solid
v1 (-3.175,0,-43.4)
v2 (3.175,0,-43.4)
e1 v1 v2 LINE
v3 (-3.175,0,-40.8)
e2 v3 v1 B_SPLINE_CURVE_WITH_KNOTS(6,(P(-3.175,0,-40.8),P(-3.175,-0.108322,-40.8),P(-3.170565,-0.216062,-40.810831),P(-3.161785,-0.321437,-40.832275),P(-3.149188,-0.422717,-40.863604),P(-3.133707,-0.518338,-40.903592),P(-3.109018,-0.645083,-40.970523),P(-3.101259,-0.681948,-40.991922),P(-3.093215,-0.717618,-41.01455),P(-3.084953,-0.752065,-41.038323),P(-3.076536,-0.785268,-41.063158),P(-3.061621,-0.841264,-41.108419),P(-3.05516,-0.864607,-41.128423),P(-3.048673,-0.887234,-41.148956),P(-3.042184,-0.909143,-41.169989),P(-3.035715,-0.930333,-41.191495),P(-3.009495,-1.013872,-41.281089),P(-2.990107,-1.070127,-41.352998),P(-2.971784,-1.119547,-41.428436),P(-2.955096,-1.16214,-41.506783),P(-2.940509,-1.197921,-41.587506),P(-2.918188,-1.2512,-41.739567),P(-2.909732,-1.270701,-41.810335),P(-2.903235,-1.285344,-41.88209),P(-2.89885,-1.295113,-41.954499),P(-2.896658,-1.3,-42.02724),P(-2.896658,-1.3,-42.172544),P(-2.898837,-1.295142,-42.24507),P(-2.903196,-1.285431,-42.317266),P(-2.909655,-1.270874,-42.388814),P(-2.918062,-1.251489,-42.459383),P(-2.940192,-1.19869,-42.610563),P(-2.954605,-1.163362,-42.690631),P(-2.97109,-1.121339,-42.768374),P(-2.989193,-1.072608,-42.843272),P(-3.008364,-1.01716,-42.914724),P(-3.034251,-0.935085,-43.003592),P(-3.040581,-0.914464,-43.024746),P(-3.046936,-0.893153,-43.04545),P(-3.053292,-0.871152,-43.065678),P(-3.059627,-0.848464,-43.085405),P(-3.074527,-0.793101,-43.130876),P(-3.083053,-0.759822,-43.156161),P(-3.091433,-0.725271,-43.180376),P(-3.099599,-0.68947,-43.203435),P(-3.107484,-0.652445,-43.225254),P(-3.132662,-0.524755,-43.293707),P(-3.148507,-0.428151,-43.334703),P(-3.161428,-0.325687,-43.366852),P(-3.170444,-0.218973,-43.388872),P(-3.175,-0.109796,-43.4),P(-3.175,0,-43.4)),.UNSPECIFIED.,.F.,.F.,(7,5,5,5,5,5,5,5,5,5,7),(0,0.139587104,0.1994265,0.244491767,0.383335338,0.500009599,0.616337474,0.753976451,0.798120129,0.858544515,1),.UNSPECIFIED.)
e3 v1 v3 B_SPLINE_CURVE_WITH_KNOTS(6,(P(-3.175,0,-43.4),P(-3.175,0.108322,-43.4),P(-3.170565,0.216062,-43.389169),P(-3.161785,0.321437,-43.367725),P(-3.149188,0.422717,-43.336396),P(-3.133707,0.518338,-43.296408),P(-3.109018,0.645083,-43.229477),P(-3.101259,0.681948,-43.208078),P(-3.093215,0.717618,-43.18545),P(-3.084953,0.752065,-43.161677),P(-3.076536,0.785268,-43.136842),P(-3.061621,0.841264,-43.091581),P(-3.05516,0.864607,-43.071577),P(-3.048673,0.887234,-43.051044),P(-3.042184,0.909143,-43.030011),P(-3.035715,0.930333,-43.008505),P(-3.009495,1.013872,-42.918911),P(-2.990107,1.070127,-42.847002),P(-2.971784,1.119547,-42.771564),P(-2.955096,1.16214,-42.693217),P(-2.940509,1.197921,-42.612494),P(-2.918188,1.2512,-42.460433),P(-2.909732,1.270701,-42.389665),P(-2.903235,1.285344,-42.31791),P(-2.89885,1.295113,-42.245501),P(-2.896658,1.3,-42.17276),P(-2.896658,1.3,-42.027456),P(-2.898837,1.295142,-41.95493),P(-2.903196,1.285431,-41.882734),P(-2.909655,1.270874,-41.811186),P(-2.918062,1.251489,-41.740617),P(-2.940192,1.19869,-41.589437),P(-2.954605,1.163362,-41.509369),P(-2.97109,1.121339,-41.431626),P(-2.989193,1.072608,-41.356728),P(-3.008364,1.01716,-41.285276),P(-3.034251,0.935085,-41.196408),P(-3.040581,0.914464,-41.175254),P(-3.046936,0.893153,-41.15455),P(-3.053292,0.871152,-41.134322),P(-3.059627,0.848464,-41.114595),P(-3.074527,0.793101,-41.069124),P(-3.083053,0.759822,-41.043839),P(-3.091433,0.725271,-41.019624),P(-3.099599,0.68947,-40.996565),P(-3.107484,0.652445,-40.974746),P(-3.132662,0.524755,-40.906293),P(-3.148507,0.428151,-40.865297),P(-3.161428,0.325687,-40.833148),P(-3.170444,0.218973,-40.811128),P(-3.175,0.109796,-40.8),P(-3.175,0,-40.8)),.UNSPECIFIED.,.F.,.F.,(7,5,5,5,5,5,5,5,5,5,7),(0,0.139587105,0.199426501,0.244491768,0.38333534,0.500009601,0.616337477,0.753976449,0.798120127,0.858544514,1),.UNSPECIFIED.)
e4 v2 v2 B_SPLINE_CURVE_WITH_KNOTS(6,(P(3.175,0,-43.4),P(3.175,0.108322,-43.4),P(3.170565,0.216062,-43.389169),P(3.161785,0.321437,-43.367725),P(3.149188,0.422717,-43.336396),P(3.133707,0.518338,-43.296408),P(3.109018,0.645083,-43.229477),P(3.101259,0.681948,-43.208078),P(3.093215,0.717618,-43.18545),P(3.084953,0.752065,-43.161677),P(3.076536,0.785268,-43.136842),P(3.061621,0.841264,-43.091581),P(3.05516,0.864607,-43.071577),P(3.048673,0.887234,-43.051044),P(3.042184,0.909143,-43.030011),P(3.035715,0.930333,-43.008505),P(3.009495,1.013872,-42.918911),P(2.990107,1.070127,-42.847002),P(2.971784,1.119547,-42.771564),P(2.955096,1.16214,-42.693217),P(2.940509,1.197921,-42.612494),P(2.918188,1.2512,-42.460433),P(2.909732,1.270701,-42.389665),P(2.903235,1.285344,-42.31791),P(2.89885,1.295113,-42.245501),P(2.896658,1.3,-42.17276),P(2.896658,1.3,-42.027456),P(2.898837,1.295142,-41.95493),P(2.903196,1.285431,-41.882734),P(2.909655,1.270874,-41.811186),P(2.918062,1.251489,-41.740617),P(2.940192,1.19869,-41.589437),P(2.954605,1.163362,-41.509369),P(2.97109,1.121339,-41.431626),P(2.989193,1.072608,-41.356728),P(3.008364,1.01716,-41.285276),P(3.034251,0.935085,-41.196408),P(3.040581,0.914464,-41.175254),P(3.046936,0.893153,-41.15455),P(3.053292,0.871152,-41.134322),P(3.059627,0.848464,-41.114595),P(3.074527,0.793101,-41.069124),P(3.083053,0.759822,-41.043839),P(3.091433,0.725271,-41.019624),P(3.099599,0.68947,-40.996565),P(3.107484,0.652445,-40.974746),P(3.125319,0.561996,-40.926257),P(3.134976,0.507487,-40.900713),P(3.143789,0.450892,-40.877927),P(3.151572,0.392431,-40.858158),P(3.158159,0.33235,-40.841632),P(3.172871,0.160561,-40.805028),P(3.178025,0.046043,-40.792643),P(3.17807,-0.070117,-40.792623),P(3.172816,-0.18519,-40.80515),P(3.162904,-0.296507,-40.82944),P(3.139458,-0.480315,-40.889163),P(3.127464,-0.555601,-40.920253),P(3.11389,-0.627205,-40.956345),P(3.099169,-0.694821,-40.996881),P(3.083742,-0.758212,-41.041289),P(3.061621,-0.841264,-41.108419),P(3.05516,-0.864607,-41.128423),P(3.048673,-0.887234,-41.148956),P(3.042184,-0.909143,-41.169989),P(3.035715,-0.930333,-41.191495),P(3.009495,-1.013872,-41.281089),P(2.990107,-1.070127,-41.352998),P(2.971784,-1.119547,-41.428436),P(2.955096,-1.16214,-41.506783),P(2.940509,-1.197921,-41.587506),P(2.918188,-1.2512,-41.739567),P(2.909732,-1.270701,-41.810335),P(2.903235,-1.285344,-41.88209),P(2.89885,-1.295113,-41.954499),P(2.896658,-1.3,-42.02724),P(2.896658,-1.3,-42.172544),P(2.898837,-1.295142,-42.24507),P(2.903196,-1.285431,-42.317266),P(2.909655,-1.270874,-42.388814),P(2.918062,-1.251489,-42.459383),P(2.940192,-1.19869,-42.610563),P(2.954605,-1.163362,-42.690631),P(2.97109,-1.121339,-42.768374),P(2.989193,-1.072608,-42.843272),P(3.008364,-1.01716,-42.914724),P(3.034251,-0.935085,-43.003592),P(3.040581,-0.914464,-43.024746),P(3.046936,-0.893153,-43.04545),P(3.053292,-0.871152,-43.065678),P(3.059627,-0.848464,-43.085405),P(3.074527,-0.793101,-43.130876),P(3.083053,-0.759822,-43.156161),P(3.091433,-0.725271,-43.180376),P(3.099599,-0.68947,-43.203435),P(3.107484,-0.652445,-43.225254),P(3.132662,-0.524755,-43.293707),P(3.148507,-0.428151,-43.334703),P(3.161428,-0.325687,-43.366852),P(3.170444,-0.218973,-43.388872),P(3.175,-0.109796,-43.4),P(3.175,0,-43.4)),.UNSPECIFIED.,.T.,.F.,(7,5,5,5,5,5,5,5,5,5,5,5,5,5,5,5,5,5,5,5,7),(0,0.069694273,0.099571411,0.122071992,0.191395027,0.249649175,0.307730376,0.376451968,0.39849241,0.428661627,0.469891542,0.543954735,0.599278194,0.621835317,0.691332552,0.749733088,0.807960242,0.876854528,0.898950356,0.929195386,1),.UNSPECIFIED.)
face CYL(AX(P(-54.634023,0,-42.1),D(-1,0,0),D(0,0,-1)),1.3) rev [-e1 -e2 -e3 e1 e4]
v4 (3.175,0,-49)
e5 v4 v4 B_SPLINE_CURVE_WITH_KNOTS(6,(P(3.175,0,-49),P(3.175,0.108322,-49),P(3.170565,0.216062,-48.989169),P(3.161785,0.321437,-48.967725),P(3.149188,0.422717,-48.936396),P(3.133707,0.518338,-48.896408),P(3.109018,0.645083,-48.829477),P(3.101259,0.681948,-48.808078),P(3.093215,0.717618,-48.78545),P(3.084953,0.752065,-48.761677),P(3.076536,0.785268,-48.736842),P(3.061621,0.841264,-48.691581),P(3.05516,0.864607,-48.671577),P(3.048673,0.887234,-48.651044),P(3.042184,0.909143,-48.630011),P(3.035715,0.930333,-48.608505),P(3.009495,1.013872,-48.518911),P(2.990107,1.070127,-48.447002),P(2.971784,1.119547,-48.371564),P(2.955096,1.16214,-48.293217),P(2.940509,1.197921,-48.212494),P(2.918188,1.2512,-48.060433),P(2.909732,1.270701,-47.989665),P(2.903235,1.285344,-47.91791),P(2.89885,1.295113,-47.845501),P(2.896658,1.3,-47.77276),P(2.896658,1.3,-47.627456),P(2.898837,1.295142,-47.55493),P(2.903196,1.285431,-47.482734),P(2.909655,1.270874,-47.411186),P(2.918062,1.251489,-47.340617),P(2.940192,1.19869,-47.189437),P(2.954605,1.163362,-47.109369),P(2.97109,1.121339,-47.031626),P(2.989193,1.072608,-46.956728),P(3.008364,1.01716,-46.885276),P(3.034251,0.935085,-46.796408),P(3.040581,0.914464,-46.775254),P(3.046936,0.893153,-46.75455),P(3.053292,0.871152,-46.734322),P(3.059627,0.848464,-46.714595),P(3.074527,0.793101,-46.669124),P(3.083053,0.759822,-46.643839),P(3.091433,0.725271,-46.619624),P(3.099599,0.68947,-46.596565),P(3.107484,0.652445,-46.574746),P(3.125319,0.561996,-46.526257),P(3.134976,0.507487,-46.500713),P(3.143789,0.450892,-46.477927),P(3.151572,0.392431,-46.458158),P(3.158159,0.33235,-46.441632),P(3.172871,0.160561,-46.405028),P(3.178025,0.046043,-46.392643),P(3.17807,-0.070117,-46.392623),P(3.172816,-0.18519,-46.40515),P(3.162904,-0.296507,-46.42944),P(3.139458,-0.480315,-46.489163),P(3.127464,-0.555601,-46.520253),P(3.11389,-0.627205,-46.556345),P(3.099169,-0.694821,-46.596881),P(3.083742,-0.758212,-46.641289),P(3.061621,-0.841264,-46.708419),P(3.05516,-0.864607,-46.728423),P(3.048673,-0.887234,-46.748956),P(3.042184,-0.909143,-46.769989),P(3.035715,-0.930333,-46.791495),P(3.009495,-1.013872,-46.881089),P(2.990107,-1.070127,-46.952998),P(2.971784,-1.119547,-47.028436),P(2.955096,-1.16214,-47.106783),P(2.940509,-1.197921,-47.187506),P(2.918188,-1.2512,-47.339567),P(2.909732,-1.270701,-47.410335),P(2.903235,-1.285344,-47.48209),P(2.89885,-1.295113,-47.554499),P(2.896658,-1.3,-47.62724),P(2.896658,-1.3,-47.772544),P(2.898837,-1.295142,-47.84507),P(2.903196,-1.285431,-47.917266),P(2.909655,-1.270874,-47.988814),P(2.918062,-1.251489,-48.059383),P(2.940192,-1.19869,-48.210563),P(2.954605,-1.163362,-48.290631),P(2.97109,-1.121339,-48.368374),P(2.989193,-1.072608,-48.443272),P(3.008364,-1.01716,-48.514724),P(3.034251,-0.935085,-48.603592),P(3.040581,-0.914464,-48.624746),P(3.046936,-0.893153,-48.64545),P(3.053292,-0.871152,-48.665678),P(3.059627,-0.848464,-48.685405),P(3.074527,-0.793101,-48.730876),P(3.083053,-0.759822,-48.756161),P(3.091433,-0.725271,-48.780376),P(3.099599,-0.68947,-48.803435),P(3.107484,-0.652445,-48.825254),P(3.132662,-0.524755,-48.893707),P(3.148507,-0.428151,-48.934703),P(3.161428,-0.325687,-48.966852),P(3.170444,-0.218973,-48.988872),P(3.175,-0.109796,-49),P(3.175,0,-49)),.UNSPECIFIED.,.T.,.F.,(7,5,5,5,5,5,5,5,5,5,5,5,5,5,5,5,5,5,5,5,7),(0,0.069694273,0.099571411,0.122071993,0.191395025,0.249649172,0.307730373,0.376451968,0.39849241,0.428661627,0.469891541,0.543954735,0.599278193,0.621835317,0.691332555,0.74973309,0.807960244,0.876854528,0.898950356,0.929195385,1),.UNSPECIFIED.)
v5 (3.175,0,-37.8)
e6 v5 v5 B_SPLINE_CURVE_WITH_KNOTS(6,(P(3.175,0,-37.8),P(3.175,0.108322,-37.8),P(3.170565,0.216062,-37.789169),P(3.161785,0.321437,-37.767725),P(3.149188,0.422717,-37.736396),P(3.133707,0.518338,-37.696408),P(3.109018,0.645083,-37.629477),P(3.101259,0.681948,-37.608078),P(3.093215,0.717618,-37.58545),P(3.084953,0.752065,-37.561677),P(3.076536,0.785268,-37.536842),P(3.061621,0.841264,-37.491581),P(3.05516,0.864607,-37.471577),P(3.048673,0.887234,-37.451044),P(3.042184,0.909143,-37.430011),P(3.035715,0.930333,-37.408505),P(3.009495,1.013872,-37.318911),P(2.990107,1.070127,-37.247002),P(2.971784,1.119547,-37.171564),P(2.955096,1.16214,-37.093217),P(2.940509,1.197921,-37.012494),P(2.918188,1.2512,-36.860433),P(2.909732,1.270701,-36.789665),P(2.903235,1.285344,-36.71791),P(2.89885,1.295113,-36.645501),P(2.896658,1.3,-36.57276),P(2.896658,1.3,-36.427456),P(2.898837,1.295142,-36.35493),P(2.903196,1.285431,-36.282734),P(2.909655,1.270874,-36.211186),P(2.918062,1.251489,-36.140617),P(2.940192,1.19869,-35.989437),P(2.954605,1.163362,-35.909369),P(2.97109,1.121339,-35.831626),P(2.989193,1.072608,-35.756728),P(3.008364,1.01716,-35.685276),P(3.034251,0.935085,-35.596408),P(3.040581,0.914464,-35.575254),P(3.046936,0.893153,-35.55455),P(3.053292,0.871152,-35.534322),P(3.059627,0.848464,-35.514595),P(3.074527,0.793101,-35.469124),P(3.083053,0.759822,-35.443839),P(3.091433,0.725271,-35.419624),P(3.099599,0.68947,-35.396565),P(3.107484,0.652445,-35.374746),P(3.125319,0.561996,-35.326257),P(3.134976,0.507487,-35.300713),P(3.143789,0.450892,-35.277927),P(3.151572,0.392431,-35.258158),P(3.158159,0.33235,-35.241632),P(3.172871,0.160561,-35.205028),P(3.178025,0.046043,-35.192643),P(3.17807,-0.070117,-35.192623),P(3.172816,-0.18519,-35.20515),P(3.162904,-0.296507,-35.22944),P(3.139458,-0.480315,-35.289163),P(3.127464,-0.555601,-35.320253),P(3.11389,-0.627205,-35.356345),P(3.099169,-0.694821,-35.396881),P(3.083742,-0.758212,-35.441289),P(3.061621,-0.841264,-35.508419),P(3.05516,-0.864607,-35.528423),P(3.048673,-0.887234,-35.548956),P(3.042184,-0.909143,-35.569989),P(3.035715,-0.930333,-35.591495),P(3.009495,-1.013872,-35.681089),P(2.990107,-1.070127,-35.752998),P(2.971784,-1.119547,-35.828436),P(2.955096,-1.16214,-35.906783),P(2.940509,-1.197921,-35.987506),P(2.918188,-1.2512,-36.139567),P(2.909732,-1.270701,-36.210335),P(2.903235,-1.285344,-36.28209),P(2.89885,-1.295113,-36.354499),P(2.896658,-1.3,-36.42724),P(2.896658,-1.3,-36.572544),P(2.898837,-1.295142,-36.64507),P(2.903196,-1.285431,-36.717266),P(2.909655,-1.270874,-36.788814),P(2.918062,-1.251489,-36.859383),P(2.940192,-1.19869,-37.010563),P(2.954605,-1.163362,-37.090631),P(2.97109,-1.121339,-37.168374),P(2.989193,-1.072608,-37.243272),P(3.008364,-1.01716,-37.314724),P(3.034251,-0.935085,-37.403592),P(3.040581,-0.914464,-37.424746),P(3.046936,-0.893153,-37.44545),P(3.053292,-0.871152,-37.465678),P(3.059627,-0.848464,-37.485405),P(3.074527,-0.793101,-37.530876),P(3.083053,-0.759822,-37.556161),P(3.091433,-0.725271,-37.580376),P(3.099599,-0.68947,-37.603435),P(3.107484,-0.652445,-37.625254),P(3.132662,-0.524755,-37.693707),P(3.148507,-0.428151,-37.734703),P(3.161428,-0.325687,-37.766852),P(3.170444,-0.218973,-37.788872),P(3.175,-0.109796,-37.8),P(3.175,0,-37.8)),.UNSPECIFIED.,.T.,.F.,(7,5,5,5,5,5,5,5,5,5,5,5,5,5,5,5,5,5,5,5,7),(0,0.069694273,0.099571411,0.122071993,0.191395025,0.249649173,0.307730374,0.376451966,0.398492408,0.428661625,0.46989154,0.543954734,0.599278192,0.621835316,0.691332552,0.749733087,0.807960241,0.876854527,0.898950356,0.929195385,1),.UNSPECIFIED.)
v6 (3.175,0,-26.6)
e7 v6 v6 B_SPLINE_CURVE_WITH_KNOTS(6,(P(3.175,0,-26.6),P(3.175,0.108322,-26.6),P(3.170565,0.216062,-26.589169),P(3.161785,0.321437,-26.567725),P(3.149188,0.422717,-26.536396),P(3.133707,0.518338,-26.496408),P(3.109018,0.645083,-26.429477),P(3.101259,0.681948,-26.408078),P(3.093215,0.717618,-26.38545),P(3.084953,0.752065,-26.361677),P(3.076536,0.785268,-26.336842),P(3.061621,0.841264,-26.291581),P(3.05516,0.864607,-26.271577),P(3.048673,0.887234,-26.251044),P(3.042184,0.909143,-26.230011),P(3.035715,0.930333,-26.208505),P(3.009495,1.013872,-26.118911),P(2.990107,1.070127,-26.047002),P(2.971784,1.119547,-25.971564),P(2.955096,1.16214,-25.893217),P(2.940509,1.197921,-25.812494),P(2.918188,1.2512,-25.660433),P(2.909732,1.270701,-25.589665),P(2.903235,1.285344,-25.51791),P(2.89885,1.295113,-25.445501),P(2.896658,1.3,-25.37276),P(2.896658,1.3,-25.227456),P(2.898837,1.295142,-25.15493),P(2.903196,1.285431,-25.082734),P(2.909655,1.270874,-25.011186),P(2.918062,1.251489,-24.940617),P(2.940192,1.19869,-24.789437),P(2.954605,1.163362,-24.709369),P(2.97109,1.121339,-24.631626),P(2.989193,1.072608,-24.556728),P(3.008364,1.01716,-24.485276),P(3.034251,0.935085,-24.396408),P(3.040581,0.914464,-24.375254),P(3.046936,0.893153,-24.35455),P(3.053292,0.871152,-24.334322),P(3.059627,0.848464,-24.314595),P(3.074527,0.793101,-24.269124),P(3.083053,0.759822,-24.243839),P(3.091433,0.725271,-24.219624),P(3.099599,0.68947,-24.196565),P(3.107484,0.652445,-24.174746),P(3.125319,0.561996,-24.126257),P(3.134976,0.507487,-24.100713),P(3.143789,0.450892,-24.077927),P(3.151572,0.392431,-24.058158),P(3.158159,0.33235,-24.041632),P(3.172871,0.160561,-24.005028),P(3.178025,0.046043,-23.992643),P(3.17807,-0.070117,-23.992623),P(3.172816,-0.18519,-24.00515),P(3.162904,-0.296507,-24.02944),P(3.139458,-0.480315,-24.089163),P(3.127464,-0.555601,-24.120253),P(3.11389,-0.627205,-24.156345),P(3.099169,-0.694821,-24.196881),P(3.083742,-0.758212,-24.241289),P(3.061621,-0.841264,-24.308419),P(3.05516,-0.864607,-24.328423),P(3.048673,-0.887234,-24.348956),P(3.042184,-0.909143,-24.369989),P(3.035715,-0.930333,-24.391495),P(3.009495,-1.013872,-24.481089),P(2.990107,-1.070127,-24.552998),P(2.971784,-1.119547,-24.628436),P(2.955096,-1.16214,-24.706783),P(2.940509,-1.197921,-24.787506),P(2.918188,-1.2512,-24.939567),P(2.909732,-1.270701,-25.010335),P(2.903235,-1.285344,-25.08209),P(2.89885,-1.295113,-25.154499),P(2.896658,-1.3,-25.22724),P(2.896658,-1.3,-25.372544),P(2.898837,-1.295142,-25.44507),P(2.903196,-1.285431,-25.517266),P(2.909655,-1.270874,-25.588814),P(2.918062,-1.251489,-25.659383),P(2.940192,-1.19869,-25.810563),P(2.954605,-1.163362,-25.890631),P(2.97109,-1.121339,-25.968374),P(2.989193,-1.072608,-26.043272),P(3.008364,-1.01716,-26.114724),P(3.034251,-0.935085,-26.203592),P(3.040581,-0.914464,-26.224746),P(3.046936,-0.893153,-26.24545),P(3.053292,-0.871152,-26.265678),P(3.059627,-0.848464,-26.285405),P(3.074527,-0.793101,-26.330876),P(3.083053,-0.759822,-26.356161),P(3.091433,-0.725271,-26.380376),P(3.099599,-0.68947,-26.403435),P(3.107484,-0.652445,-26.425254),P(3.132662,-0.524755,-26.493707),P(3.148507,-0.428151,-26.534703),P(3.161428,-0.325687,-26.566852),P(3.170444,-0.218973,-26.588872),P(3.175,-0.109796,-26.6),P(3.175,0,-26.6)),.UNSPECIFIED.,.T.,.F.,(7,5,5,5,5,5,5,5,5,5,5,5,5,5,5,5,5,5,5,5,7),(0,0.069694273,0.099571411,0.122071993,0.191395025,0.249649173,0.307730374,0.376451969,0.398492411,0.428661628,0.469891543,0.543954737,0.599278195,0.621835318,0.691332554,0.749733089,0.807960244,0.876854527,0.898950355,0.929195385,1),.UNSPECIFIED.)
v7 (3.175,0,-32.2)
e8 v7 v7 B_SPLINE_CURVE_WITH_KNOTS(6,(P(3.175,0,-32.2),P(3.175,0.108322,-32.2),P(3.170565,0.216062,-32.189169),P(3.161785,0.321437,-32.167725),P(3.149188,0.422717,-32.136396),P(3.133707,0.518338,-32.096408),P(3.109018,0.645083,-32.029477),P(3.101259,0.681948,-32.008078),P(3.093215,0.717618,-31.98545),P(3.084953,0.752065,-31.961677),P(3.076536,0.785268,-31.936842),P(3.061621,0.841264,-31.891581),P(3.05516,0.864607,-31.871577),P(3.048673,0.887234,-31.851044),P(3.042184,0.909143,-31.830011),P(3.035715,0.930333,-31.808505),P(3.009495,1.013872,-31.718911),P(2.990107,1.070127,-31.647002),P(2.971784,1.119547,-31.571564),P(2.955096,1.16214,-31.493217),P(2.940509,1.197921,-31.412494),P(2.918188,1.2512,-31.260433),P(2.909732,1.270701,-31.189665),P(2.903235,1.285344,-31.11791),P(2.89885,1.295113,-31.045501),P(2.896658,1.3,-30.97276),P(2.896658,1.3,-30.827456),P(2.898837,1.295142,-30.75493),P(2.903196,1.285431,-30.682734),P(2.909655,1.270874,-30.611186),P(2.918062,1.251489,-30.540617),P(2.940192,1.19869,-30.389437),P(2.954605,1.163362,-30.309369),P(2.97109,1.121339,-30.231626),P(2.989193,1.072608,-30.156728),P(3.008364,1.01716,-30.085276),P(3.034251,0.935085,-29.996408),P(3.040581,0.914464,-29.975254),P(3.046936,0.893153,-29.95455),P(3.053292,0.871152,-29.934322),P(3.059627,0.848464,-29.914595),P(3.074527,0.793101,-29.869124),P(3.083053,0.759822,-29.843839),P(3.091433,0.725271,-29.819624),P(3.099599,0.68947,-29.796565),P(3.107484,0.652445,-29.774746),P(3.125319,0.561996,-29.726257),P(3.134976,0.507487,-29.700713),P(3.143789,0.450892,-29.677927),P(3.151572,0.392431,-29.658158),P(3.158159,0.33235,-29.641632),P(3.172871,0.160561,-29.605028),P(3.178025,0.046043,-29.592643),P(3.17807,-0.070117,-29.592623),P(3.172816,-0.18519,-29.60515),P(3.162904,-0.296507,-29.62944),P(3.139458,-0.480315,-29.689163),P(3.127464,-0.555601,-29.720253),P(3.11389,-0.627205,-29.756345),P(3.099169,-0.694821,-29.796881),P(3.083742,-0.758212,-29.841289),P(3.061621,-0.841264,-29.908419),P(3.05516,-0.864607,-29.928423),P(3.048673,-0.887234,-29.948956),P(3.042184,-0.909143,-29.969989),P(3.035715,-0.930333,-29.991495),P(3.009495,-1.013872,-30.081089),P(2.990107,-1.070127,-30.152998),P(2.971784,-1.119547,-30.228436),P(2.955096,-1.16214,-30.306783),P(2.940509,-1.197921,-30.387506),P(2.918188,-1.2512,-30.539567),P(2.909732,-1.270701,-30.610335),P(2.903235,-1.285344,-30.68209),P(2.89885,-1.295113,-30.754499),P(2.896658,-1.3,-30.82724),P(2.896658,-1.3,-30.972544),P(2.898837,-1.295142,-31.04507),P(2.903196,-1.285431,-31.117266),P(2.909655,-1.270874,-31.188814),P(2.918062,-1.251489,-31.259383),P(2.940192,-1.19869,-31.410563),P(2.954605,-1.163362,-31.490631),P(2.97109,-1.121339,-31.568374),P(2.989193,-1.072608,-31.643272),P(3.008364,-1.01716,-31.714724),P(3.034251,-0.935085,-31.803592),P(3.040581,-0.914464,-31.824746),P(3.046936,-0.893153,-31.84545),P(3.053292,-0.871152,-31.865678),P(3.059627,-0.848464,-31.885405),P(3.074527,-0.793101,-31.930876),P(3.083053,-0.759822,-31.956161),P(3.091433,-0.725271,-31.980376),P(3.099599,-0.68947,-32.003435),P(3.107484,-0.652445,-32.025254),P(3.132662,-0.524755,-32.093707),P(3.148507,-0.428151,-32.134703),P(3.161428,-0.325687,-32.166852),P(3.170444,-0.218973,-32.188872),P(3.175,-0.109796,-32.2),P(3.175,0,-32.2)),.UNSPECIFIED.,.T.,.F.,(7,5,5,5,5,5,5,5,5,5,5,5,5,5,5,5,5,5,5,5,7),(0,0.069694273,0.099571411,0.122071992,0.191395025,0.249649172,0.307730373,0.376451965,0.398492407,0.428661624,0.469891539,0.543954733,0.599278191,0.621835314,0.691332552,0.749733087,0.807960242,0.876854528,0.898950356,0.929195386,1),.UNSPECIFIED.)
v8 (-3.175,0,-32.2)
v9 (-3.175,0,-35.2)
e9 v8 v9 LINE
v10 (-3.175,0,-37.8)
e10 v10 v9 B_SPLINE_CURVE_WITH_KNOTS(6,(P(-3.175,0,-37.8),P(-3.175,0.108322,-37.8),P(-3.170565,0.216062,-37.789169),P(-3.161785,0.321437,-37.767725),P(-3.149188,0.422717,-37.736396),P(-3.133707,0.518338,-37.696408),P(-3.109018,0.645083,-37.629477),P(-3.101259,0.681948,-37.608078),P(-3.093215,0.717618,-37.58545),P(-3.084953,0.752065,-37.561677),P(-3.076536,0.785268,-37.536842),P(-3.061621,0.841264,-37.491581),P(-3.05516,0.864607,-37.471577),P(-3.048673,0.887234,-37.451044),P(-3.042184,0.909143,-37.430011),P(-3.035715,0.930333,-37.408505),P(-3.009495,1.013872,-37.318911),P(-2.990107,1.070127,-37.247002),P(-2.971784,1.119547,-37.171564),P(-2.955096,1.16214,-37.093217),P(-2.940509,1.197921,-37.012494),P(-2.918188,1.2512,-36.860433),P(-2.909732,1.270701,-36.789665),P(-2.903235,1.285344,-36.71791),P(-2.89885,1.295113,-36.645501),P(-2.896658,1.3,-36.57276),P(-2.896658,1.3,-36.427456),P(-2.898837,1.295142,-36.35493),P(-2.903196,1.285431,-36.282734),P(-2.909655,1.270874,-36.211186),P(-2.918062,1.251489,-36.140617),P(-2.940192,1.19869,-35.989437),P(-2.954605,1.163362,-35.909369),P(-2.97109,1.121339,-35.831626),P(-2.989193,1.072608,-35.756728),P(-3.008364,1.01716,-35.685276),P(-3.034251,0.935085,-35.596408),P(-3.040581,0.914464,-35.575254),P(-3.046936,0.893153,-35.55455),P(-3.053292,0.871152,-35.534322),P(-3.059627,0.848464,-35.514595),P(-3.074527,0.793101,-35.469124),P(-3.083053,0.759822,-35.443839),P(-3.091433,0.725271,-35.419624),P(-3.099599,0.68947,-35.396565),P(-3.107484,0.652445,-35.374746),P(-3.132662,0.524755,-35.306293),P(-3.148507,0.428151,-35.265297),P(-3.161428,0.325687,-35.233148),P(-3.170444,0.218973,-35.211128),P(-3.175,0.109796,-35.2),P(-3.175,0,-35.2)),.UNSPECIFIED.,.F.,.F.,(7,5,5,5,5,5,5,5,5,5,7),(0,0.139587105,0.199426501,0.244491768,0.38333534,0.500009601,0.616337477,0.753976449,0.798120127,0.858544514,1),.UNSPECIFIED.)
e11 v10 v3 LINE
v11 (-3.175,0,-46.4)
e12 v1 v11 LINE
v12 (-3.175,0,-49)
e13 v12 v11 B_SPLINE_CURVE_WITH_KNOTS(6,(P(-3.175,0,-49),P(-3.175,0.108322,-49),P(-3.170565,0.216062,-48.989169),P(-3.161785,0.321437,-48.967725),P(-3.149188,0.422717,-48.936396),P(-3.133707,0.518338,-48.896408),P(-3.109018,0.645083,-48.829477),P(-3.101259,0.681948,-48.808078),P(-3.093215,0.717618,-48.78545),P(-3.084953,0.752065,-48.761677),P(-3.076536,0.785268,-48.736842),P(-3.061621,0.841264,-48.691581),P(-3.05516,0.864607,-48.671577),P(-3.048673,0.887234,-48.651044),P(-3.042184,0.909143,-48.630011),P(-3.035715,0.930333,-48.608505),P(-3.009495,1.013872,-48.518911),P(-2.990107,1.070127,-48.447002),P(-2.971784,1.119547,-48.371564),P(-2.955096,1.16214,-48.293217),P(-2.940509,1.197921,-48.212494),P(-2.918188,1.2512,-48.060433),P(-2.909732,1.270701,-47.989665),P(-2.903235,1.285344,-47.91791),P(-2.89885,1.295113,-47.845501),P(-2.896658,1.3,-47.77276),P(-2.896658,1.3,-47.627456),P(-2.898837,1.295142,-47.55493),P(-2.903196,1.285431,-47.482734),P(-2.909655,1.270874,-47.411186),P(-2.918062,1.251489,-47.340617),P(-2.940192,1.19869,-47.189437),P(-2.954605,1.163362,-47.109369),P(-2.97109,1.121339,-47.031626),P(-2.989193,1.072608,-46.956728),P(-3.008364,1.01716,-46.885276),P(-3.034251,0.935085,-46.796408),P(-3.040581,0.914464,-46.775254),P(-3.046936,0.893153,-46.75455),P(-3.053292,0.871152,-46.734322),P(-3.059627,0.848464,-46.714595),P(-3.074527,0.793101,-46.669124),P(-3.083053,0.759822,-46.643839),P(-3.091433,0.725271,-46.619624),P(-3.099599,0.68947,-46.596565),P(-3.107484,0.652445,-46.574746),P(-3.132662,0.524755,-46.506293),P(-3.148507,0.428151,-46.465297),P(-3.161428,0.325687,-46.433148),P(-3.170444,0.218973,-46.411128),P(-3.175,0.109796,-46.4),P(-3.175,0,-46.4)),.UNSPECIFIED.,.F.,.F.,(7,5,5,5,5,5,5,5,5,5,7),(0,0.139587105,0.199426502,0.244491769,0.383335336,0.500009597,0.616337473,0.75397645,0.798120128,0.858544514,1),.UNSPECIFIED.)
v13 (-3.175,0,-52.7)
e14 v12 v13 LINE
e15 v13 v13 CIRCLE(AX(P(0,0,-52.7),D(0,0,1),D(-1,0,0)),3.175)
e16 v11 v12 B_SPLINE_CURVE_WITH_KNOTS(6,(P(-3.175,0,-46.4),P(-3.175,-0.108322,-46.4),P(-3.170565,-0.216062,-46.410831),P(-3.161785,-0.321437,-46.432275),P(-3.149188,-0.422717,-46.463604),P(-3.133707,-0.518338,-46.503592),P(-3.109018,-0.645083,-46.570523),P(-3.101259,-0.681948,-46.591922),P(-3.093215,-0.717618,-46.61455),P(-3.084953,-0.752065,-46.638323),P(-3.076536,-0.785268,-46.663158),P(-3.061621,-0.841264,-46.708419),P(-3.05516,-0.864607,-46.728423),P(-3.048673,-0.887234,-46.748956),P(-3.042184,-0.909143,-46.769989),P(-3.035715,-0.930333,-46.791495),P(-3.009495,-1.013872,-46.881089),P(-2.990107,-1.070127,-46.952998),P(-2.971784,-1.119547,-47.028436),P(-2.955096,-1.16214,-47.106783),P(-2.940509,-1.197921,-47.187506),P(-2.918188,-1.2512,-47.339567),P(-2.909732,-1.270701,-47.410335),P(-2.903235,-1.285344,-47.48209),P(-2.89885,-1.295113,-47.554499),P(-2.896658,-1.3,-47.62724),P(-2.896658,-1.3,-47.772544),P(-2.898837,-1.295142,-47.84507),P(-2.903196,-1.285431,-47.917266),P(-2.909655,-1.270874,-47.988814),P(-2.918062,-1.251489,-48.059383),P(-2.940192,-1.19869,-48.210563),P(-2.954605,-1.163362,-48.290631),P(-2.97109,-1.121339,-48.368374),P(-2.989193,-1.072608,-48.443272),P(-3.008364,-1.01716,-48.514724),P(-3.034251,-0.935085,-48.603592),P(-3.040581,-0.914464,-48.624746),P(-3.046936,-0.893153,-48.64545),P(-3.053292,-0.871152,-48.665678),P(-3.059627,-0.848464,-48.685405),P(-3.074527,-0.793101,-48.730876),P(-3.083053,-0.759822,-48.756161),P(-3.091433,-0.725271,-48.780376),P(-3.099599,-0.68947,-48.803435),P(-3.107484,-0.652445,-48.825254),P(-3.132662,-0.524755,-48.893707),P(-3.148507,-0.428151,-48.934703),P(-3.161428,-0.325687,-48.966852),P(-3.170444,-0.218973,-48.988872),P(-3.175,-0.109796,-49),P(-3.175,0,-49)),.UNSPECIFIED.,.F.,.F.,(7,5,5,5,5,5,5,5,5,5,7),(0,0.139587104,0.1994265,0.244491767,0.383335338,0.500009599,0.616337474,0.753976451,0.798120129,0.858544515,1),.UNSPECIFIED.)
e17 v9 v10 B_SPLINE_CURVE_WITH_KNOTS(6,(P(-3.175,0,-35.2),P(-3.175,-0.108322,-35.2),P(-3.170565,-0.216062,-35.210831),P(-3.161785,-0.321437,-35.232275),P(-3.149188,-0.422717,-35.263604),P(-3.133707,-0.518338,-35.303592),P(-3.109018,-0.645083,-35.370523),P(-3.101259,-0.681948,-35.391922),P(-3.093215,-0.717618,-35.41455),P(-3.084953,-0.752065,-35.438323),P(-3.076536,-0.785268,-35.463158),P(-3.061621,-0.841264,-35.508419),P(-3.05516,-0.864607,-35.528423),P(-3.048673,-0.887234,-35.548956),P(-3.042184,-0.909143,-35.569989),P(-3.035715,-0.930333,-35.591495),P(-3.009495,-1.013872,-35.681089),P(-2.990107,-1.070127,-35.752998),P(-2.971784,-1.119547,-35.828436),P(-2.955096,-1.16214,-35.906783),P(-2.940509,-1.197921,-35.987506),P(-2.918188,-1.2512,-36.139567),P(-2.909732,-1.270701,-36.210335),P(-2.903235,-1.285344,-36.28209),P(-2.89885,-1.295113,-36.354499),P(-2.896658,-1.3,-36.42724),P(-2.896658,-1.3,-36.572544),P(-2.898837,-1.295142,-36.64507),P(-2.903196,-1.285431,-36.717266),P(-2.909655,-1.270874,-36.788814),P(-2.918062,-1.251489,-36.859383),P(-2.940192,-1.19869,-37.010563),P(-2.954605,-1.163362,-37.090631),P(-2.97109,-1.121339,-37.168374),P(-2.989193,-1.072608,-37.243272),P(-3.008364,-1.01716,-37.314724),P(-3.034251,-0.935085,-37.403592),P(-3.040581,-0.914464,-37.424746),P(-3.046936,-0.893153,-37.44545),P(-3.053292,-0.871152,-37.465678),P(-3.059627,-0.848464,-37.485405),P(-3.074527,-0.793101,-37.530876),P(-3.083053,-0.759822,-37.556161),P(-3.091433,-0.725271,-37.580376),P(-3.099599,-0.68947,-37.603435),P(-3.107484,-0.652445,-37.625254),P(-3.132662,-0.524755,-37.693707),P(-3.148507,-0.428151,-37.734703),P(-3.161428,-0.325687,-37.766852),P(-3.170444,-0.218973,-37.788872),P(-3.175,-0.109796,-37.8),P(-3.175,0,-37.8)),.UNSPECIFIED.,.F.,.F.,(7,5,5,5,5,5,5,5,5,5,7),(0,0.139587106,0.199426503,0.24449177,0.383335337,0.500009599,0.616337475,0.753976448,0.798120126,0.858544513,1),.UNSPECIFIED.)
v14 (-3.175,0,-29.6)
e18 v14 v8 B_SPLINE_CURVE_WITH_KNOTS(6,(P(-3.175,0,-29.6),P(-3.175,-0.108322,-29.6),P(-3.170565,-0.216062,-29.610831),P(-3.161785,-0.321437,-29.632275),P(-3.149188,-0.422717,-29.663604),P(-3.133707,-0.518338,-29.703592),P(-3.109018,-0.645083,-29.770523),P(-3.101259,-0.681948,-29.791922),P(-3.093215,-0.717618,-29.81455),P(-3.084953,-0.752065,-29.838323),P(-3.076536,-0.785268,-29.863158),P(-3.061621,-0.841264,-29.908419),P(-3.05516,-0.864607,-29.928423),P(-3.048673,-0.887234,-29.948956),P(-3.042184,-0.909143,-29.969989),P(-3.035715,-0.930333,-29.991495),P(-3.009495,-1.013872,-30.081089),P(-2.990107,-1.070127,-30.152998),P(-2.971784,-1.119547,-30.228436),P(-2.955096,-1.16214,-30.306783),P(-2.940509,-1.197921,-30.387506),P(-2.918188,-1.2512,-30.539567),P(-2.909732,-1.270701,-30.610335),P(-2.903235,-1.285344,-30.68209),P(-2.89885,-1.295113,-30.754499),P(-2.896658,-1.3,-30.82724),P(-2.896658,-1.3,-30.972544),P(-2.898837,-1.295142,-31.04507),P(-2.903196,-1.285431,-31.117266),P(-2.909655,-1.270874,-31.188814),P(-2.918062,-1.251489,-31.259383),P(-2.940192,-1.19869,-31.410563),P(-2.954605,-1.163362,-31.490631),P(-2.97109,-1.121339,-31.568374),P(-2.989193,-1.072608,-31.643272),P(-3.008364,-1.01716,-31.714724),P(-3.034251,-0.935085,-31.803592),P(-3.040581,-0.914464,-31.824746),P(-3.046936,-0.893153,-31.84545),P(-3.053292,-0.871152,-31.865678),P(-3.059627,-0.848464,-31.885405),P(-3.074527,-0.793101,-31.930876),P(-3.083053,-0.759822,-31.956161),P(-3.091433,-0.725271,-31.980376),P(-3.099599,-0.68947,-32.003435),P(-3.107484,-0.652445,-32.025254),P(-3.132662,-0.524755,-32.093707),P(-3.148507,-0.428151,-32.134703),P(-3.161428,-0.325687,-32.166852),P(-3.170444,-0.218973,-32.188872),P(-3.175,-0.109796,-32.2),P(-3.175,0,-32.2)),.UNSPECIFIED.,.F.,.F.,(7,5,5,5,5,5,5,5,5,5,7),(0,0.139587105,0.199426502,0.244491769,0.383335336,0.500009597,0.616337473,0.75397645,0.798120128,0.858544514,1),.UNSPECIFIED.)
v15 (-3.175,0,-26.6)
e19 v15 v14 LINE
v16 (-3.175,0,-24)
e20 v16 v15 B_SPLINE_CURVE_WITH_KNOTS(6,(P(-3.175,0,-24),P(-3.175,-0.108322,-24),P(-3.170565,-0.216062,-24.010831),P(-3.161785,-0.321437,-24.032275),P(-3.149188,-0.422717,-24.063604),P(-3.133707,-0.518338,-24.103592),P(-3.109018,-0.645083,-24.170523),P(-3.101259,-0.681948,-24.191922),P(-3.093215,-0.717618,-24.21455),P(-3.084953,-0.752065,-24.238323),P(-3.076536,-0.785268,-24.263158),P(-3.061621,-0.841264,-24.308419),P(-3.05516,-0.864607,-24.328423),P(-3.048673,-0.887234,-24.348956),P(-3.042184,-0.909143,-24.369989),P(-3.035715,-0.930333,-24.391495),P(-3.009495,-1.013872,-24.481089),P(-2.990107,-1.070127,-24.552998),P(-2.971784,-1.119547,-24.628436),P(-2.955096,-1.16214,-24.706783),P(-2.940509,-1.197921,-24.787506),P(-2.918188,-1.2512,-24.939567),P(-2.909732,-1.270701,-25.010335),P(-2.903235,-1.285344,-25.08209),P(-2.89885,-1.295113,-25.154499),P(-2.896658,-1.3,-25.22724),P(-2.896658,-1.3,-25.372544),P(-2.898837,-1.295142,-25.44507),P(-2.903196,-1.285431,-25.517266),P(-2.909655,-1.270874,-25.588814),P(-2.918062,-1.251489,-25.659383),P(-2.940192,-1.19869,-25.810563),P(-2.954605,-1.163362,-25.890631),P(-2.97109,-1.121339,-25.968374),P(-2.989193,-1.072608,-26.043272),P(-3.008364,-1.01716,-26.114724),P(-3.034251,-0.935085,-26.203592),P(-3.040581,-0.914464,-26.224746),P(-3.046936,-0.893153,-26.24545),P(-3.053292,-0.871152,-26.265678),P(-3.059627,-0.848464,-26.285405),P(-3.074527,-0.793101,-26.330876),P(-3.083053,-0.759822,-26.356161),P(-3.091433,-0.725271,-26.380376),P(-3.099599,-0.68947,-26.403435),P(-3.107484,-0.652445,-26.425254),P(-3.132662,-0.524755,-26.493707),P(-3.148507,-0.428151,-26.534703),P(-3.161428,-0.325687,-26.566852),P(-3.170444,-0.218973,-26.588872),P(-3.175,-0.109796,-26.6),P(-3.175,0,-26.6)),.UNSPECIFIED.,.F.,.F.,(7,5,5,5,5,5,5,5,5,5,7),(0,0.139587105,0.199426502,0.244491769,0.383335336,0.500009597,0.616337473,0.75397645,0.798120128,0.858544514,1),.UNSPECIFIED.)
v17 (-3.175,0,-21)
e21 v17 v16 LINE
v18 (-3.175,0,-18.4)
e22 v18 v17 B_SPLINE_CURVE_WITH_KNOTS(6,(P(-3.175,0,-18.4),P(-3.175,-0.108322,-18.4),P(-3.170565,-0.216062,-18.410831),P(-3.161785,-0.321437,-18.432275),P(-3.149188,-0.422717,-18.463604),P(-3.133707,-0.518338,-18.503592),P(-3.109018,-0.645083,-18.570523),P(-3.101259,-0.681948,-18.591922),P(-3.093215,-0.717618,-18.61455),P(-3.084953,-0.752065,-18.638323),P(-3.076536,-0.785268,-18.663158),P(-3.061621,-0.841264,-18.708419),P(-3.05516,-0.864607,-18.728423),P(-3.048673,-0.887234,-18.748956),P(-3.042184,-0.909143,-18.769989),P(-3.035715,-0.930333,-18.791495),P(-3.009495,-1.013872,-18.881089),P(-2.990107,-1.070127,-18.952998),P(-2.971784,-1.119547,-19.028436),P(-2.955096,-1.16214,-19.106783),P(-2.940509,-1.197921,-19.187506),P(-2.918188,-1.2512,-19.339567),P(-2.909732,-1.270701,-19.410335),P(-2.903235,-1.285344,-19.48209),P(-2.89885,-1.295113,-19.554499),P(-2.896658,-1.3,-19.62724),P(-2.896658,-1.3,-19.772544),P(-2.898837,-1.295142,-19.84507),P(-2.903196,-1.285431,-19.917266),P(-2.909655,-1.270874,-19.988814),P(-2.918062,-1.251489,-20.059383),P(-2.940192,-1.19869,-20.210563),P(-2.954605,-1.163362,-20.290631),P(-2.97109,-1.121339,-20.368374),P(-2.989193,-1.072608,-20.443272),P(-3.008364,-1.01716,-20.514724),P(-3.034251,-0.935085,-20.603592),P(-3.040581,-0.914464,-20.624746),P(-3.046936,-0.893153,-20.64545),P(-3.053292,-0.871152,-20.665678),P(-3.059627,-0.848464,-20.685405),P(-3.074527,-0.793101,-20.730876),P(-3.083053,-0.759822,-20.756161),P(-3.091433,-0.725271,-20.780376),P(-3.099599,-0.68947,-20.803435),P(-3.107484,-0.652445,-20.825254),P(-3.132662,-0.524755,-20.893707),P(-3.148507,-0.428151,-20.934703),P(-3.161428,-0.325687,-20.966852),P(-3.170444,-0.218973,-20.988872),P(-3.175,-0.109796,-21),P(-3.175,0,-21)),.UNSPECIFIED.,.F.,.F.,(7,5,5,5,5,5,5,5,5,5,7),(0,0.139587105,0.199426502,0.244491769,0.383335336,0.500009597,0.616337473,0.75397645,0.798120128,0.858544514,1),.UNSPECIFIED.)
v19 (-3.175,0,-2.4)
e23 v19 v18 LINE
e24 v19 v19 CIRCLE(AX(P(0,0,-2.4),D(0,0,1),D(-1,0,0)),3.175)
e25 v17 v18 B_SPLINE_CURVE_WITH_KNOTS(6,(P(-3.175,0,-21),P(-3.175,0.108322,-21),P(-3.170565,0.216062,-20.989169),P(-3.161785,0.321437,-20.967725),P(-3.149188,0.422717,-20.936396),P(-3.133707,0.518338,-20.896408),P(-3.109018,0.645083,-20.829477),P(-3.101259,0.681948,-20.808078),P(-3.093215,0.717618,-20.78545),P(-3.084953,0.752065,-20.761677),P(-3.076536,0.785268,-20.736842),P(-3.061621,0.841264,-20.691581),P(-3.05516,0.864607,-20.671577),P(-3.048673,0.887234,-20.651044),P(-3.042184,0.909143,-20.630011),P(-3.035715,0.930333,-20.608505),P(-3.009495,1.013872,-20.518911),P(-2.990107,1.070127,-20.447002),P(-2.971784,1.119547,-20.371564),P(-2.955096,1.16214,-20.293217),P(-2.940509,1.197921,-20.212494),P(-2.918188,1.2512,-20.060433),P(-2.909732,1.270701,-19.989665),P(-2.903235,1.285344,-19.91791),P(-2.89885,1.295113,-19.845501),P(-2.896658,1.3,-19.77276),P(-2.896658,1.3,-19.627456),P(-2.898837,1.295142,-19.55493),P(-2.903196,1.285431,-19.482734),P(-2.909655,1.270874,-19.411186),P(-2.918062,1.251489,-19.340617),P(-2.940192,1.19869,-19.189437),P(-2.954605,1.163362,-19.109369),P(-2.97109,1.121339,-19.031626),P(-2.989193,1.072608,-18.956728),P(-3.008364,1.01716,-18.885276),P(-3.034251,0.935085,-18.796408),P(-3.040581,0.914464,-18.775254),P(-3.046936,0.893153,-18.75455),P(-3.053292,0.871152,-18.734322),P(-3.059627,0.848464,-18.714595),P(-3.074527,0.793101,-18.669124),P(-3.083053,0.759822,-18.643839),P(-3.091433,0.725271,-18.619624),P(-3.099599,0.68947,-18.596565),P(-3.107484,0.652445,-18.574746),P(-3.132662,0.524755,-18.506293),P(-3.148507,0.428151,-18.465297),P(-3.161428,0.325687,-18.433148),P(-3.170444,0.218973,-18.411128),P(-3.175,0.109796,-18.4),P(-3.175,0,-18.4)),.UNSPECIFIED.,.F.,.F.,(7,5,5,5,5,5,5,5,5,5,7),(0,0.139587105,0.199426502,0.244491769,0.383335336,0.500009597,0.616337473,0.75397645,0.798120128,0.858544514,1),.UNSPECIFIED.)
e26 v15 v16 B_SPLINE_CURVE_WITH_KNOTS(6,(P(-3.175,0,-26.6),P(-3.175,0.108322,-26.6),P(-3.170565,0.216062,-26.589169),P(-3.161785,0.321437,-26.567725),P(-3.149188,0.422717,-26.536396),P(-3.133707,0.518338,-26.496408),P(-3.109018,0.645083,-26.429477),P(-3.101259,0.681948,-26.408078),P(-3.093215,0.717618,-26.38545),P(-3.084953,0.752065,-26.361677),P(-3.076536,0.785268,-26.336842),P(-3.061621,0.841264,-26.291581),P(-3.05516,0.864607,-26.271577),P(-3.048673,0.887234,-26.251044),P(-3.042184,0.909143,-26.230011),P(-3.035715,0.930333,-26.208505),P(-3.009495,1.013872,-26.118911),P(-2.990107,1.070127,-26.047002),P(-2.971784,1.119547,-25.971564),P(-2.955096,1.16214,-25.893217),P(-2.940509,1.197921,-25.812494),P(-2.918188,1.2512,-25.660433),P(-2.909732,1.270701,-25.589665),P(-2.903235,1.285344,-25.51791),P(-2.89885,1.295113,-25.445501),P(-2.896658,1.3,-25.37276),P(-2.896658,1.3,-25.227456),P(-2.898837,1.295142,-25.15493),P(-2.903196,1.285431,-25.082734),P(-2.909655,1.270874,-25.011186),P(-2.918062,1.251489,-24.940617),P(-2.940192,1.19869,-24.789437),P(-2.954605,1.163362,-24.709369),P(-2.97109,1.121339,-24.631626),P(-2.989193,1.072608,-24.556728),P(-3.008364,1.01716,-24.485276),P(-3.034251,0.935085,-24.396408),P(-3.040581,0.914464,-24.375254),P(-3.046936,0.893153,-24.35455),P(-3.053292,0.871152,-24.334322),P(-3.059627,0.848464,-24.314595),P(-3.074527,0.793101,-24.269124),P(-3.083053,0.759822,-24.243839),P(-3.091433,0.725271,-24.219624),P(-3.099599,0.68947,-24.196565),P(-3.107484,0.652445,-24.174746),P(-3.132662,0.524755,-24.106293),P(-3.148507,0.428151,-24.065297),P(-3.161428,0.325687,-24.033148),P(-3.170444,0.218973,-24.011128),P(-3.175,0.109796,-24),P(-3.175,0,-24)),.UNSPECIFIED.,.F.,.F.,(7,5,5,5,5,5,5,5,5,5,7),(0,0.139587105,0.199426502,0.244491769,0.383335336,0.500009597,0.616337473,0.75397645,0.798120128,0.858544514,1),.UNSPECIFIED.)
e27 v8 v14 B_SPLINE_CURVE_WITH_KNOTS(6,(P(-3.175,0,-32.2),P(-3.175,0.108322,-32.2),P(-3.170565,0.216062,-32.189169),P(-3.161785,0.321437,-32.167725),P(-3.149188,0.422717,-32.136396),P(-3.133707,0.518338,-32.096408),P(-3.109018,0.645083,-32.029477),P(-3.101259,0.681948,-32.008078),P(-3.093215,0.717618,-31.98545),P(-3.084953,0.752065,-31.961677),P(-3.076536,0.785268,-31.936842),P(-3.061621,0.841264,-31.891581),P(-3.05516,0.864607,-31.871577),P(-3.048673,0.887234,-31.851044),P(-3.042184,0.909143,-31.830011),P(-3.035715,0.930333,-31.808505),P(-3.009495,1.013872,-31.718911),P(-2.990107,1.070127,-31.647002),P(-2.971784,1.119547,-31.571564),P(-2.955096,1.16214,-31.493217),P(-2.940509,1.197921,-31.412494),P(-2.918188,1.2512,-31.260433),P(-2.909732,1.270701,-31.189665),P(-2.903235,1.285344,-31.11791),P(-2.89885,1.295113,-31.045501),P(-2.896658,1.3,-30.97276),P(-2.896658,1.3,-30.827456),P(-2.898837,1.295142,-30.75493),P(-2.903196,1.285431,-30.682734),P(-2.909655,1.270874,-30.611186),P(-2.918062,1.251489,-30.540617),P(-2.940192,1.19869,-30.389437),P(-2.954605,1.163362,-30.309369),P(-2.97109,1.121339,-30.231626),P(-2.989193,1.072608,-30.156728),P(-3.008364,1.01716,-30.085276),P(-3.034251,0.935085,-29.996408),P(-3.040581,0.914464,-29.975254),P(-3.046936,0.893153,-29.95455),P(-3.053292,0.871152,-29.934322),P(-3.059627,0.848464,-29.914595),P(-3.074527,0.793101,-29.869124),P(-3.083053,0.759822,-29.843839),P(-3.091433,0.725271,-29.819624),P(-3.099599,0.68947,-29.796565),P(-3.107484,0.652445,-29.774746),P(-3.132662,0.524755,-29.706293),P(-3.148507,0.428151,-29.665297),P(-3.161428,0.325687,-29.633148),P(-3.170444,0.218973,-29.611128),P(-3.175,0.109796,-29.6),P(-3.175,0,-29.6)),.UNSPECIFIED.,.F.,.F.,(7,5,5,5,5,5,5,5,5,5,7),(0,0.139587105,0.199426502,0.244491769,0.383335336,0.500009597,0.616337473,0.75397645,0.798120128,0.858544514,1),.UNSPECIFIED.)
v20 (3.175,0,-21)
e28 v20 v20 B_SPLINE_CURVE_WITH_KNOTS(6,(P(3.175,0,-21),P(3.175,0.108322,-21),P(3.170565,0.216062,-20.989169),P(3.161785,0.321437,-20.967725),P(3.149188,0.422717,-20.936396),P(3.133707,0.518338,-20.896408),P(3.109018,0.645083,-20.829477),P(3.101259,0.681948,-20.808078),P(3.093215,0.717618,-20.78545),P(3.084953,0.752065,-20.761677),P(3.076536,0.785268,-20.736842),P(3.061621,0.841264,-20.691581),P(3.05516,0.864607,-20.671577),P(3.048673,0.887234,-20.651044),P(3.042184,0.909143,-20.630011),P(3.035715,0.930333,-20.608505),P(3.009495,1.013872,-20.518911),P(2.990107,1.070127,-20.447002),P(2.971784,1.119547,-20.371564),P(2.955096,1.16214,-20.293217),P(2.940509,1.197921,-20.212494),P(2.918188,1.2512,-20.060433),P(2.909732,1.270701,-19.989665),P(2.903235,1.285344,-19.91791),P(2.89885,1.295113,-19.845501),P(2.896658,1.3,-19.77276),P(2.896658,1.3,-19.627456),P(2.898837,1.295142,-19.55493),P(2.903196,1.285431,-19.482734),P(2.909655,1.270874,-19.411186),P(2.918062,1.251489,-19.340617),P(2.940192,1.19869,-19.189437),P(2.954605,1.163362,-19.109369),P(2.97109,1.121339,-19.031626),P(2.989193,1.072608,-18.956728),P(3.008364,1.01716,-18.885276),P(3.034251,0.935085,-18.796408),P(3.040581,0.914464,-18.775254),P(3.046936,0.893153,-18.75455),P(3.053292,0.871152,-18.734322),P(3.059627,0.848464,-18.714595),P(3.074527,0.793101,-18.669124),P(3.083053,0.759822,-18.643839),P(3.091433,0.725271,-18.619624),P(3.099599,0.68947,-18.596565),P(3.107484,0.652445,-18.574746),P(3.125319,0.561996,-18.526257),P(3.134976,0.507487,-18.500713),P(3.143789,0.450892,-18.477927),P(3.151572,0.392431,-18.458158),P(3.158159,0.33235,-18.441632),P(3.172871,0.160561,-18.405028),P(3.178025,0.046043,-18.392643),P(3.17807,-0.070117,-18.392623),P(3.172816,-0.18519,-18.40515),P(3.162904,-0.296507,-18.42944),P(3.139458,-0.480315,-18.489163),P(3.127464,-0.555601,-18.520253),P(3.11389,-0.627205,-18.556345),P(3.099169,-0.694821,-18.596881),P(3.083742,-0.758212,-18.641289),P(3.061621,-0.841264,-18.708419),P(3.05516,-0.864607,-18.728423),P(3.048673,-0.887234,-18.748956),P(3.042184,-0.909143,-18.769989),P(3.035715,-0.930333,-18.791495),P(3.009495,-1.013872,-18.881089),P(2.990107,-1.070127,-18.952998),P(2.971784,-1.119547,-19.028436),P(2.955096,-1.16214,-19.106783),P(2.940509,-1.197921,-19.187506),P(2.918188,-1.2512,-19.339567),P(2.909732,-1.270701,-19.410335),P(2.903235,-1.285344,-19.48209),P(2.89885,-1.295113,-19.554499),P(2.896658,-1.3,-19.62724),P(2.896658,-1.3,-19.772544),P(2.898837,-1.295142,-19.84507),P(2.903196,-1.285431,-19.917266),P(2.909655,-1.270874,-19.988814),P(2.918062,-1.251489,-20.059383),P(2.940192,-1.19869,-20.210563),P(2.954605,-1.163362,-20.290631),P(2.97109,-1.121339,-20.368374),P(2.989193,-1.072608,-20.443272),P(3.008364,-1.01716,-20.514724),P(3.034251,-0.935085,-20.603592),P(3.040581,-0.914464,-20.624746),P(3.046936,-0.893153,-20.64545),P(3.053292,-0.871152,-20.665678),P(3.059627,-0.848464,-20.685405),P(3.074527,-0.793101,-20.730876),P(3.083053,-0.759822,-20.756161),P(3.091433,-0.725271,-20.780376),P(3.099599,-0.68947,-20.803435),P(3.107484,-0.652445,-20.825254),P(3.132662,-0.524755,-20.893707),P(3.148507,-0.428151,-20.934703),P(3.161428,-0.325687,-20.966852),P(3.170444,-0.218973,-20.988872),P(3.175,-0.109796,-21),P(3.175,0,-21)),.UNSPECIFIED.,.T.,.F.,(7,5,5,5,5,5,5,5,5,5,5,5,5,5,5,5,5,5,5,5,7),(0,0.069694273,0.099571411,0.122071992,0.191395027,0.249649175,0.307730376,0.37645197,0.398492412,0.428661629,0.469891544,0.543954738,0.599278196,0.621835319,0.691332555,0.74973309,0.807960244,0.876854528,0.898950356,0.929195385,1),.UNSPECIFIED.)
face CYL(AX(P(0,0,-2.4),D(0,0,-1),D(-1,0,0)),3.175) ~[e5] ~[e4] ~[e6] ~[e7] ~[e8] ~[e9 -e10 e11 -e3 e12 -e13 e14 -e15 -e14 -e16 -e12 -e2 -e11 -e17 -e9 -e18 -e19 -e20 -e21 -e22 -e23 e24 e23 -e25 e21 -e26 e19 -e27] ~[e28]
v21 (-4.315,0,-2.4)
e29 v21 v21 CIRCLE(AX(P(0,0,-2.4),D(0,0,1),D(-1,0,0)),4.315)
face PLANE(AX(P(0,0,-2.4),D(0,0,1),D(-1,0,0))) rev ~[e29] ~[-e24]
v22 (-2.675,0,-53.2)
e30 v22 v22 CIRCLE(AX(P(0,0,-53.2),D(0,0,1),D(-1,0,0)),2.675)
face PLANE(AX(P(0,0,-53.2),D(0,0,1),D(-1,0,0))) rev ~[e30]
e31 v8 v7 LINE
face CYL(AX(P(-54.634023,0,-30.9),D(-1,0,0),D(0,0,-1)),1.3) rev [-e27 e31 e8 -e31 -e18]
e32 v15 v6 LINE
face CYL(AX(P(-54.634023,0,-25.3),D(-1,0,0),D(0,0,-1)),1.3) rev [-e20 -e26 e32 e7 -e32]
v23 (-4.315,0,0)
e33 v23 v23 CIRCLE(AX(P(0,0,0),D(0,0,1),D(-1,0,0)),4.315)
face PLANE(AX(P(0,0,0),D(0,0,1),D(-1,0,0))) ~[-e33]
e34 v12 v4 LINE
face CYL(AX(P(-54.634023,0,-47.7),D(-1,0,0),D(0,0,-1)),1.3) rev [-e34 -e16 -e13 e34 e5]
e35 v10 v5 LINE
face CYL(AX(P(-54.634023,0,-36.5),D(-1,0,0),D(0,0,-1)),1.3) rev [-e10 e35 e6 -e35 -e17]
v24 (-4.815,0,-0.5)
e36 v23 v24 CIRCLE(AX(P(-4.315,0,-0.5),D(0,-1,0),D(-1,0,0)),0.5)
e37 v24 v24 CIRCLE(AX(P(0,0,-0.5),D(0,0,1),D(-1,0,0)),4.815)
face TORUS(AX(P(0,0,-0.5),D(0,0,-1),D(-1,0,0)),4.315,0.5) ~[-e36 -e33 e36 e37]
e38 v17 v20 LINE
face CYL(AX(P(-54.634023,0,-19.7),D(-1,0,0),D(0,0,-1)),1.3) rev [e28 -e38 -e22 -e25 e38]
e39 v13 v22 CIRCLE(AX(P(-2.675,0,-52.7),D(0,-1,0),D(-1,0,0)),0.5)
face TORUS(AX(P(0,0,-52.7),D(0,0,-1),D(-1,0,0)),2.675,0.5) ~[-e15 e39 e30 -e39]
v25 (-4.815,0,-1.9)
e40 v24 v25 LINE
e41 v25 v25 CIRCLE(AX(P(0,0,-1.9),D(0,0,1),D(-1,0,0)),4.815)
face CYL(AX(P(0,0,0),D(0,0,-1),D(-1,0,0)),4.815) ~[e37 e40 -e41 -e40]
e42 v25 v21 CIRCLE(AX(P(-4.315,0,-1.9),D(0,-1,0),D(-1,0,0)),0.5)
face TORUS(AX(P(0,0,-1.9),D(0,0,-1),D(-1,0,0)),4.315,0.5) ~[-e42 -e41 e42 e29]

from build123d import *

# Parameters (mm, degrees)
CUT_EXTRUDE1_DEPTH      = 54.63402325
CUT_EXTRUDE1_DEPTH_BACK = 54.63402325
SKETCH2_R               = 1.3
F7F_R                   = 0.5
FILLET2_R               = 0.5


with BuildPart() as part:
    # Sketch1 → Revolve1 (revolve)
    with BuildSketch(Plane.YZ, mode=Mode.PRIVATE) as revolve1_sk:
        Polygon((0, 0), (4.815, 0), (4.815, -2.4), (3.175, -2.4), (3.175, -53.2), (0, -53.2), align=None)
    revolve(revolve1_sk.sketch.rotate(Axis((0, 0, -335.576810525), (0, 0, 1)), 90), axis=Axis((0, 0, -335.576810525), (0, 0, 1)))

    # Sketch2 → Cut-Extrude1 (cut, two sides: drawn at the far end of the back side and taken through both)
    with BuildSketch(Plane.YZ.offset(-CUT_EXTRUDE1_DEPTH_BACK)):
        with Locations(Location((0, -47.7, 0), (0, 0, 270.000000002))):
            Circle(SKETCH2_R)
        with Locations(Location((0, -42.1, 0), (0, 0, 270.000000002))):
            Circle(SKETCH2_R)
        with Locations(Location((0, -25.3, 0), (0, 0, 270.000000002))):
            Circle(SKETCH2_R)
        with Locations(Location((0, -30.9, 0), (0, 0, 270.000000002))):
            Circle(SKETCH2_R)
        with Locations(Location((0, -36.5, 0), (0, 0, 270.000000002))):
            Circle(SKETCH2_R)
        with Locations(Location((0, -19.7, 0), (0, 0, 270.000000002))):
            Circle(SKETCH2_R)
    extrude(amount=CUT_EXTRUDE1_DEPTH + CUT_EXTRUDE1_DEPTH_BACK, mode=Mode.SUBTRACT)

    # f7f
    f7f_edges = [part.edges().sort_by_distance(p)[0] for p in [
        (4.815, 0, -2.4),
        (4.815, 0, 0),
    ]]
    fillet(f7f_edges, radius=F7F_R)

    # Fillet2
    fillet2_edges = [part.edges().sort_by_distance(p)[0] for p in [
        (3.175, 0, -53.2),
    ]]
    fillet(fillet2_edges, radius=FILLET2_R)


solid = part.part
